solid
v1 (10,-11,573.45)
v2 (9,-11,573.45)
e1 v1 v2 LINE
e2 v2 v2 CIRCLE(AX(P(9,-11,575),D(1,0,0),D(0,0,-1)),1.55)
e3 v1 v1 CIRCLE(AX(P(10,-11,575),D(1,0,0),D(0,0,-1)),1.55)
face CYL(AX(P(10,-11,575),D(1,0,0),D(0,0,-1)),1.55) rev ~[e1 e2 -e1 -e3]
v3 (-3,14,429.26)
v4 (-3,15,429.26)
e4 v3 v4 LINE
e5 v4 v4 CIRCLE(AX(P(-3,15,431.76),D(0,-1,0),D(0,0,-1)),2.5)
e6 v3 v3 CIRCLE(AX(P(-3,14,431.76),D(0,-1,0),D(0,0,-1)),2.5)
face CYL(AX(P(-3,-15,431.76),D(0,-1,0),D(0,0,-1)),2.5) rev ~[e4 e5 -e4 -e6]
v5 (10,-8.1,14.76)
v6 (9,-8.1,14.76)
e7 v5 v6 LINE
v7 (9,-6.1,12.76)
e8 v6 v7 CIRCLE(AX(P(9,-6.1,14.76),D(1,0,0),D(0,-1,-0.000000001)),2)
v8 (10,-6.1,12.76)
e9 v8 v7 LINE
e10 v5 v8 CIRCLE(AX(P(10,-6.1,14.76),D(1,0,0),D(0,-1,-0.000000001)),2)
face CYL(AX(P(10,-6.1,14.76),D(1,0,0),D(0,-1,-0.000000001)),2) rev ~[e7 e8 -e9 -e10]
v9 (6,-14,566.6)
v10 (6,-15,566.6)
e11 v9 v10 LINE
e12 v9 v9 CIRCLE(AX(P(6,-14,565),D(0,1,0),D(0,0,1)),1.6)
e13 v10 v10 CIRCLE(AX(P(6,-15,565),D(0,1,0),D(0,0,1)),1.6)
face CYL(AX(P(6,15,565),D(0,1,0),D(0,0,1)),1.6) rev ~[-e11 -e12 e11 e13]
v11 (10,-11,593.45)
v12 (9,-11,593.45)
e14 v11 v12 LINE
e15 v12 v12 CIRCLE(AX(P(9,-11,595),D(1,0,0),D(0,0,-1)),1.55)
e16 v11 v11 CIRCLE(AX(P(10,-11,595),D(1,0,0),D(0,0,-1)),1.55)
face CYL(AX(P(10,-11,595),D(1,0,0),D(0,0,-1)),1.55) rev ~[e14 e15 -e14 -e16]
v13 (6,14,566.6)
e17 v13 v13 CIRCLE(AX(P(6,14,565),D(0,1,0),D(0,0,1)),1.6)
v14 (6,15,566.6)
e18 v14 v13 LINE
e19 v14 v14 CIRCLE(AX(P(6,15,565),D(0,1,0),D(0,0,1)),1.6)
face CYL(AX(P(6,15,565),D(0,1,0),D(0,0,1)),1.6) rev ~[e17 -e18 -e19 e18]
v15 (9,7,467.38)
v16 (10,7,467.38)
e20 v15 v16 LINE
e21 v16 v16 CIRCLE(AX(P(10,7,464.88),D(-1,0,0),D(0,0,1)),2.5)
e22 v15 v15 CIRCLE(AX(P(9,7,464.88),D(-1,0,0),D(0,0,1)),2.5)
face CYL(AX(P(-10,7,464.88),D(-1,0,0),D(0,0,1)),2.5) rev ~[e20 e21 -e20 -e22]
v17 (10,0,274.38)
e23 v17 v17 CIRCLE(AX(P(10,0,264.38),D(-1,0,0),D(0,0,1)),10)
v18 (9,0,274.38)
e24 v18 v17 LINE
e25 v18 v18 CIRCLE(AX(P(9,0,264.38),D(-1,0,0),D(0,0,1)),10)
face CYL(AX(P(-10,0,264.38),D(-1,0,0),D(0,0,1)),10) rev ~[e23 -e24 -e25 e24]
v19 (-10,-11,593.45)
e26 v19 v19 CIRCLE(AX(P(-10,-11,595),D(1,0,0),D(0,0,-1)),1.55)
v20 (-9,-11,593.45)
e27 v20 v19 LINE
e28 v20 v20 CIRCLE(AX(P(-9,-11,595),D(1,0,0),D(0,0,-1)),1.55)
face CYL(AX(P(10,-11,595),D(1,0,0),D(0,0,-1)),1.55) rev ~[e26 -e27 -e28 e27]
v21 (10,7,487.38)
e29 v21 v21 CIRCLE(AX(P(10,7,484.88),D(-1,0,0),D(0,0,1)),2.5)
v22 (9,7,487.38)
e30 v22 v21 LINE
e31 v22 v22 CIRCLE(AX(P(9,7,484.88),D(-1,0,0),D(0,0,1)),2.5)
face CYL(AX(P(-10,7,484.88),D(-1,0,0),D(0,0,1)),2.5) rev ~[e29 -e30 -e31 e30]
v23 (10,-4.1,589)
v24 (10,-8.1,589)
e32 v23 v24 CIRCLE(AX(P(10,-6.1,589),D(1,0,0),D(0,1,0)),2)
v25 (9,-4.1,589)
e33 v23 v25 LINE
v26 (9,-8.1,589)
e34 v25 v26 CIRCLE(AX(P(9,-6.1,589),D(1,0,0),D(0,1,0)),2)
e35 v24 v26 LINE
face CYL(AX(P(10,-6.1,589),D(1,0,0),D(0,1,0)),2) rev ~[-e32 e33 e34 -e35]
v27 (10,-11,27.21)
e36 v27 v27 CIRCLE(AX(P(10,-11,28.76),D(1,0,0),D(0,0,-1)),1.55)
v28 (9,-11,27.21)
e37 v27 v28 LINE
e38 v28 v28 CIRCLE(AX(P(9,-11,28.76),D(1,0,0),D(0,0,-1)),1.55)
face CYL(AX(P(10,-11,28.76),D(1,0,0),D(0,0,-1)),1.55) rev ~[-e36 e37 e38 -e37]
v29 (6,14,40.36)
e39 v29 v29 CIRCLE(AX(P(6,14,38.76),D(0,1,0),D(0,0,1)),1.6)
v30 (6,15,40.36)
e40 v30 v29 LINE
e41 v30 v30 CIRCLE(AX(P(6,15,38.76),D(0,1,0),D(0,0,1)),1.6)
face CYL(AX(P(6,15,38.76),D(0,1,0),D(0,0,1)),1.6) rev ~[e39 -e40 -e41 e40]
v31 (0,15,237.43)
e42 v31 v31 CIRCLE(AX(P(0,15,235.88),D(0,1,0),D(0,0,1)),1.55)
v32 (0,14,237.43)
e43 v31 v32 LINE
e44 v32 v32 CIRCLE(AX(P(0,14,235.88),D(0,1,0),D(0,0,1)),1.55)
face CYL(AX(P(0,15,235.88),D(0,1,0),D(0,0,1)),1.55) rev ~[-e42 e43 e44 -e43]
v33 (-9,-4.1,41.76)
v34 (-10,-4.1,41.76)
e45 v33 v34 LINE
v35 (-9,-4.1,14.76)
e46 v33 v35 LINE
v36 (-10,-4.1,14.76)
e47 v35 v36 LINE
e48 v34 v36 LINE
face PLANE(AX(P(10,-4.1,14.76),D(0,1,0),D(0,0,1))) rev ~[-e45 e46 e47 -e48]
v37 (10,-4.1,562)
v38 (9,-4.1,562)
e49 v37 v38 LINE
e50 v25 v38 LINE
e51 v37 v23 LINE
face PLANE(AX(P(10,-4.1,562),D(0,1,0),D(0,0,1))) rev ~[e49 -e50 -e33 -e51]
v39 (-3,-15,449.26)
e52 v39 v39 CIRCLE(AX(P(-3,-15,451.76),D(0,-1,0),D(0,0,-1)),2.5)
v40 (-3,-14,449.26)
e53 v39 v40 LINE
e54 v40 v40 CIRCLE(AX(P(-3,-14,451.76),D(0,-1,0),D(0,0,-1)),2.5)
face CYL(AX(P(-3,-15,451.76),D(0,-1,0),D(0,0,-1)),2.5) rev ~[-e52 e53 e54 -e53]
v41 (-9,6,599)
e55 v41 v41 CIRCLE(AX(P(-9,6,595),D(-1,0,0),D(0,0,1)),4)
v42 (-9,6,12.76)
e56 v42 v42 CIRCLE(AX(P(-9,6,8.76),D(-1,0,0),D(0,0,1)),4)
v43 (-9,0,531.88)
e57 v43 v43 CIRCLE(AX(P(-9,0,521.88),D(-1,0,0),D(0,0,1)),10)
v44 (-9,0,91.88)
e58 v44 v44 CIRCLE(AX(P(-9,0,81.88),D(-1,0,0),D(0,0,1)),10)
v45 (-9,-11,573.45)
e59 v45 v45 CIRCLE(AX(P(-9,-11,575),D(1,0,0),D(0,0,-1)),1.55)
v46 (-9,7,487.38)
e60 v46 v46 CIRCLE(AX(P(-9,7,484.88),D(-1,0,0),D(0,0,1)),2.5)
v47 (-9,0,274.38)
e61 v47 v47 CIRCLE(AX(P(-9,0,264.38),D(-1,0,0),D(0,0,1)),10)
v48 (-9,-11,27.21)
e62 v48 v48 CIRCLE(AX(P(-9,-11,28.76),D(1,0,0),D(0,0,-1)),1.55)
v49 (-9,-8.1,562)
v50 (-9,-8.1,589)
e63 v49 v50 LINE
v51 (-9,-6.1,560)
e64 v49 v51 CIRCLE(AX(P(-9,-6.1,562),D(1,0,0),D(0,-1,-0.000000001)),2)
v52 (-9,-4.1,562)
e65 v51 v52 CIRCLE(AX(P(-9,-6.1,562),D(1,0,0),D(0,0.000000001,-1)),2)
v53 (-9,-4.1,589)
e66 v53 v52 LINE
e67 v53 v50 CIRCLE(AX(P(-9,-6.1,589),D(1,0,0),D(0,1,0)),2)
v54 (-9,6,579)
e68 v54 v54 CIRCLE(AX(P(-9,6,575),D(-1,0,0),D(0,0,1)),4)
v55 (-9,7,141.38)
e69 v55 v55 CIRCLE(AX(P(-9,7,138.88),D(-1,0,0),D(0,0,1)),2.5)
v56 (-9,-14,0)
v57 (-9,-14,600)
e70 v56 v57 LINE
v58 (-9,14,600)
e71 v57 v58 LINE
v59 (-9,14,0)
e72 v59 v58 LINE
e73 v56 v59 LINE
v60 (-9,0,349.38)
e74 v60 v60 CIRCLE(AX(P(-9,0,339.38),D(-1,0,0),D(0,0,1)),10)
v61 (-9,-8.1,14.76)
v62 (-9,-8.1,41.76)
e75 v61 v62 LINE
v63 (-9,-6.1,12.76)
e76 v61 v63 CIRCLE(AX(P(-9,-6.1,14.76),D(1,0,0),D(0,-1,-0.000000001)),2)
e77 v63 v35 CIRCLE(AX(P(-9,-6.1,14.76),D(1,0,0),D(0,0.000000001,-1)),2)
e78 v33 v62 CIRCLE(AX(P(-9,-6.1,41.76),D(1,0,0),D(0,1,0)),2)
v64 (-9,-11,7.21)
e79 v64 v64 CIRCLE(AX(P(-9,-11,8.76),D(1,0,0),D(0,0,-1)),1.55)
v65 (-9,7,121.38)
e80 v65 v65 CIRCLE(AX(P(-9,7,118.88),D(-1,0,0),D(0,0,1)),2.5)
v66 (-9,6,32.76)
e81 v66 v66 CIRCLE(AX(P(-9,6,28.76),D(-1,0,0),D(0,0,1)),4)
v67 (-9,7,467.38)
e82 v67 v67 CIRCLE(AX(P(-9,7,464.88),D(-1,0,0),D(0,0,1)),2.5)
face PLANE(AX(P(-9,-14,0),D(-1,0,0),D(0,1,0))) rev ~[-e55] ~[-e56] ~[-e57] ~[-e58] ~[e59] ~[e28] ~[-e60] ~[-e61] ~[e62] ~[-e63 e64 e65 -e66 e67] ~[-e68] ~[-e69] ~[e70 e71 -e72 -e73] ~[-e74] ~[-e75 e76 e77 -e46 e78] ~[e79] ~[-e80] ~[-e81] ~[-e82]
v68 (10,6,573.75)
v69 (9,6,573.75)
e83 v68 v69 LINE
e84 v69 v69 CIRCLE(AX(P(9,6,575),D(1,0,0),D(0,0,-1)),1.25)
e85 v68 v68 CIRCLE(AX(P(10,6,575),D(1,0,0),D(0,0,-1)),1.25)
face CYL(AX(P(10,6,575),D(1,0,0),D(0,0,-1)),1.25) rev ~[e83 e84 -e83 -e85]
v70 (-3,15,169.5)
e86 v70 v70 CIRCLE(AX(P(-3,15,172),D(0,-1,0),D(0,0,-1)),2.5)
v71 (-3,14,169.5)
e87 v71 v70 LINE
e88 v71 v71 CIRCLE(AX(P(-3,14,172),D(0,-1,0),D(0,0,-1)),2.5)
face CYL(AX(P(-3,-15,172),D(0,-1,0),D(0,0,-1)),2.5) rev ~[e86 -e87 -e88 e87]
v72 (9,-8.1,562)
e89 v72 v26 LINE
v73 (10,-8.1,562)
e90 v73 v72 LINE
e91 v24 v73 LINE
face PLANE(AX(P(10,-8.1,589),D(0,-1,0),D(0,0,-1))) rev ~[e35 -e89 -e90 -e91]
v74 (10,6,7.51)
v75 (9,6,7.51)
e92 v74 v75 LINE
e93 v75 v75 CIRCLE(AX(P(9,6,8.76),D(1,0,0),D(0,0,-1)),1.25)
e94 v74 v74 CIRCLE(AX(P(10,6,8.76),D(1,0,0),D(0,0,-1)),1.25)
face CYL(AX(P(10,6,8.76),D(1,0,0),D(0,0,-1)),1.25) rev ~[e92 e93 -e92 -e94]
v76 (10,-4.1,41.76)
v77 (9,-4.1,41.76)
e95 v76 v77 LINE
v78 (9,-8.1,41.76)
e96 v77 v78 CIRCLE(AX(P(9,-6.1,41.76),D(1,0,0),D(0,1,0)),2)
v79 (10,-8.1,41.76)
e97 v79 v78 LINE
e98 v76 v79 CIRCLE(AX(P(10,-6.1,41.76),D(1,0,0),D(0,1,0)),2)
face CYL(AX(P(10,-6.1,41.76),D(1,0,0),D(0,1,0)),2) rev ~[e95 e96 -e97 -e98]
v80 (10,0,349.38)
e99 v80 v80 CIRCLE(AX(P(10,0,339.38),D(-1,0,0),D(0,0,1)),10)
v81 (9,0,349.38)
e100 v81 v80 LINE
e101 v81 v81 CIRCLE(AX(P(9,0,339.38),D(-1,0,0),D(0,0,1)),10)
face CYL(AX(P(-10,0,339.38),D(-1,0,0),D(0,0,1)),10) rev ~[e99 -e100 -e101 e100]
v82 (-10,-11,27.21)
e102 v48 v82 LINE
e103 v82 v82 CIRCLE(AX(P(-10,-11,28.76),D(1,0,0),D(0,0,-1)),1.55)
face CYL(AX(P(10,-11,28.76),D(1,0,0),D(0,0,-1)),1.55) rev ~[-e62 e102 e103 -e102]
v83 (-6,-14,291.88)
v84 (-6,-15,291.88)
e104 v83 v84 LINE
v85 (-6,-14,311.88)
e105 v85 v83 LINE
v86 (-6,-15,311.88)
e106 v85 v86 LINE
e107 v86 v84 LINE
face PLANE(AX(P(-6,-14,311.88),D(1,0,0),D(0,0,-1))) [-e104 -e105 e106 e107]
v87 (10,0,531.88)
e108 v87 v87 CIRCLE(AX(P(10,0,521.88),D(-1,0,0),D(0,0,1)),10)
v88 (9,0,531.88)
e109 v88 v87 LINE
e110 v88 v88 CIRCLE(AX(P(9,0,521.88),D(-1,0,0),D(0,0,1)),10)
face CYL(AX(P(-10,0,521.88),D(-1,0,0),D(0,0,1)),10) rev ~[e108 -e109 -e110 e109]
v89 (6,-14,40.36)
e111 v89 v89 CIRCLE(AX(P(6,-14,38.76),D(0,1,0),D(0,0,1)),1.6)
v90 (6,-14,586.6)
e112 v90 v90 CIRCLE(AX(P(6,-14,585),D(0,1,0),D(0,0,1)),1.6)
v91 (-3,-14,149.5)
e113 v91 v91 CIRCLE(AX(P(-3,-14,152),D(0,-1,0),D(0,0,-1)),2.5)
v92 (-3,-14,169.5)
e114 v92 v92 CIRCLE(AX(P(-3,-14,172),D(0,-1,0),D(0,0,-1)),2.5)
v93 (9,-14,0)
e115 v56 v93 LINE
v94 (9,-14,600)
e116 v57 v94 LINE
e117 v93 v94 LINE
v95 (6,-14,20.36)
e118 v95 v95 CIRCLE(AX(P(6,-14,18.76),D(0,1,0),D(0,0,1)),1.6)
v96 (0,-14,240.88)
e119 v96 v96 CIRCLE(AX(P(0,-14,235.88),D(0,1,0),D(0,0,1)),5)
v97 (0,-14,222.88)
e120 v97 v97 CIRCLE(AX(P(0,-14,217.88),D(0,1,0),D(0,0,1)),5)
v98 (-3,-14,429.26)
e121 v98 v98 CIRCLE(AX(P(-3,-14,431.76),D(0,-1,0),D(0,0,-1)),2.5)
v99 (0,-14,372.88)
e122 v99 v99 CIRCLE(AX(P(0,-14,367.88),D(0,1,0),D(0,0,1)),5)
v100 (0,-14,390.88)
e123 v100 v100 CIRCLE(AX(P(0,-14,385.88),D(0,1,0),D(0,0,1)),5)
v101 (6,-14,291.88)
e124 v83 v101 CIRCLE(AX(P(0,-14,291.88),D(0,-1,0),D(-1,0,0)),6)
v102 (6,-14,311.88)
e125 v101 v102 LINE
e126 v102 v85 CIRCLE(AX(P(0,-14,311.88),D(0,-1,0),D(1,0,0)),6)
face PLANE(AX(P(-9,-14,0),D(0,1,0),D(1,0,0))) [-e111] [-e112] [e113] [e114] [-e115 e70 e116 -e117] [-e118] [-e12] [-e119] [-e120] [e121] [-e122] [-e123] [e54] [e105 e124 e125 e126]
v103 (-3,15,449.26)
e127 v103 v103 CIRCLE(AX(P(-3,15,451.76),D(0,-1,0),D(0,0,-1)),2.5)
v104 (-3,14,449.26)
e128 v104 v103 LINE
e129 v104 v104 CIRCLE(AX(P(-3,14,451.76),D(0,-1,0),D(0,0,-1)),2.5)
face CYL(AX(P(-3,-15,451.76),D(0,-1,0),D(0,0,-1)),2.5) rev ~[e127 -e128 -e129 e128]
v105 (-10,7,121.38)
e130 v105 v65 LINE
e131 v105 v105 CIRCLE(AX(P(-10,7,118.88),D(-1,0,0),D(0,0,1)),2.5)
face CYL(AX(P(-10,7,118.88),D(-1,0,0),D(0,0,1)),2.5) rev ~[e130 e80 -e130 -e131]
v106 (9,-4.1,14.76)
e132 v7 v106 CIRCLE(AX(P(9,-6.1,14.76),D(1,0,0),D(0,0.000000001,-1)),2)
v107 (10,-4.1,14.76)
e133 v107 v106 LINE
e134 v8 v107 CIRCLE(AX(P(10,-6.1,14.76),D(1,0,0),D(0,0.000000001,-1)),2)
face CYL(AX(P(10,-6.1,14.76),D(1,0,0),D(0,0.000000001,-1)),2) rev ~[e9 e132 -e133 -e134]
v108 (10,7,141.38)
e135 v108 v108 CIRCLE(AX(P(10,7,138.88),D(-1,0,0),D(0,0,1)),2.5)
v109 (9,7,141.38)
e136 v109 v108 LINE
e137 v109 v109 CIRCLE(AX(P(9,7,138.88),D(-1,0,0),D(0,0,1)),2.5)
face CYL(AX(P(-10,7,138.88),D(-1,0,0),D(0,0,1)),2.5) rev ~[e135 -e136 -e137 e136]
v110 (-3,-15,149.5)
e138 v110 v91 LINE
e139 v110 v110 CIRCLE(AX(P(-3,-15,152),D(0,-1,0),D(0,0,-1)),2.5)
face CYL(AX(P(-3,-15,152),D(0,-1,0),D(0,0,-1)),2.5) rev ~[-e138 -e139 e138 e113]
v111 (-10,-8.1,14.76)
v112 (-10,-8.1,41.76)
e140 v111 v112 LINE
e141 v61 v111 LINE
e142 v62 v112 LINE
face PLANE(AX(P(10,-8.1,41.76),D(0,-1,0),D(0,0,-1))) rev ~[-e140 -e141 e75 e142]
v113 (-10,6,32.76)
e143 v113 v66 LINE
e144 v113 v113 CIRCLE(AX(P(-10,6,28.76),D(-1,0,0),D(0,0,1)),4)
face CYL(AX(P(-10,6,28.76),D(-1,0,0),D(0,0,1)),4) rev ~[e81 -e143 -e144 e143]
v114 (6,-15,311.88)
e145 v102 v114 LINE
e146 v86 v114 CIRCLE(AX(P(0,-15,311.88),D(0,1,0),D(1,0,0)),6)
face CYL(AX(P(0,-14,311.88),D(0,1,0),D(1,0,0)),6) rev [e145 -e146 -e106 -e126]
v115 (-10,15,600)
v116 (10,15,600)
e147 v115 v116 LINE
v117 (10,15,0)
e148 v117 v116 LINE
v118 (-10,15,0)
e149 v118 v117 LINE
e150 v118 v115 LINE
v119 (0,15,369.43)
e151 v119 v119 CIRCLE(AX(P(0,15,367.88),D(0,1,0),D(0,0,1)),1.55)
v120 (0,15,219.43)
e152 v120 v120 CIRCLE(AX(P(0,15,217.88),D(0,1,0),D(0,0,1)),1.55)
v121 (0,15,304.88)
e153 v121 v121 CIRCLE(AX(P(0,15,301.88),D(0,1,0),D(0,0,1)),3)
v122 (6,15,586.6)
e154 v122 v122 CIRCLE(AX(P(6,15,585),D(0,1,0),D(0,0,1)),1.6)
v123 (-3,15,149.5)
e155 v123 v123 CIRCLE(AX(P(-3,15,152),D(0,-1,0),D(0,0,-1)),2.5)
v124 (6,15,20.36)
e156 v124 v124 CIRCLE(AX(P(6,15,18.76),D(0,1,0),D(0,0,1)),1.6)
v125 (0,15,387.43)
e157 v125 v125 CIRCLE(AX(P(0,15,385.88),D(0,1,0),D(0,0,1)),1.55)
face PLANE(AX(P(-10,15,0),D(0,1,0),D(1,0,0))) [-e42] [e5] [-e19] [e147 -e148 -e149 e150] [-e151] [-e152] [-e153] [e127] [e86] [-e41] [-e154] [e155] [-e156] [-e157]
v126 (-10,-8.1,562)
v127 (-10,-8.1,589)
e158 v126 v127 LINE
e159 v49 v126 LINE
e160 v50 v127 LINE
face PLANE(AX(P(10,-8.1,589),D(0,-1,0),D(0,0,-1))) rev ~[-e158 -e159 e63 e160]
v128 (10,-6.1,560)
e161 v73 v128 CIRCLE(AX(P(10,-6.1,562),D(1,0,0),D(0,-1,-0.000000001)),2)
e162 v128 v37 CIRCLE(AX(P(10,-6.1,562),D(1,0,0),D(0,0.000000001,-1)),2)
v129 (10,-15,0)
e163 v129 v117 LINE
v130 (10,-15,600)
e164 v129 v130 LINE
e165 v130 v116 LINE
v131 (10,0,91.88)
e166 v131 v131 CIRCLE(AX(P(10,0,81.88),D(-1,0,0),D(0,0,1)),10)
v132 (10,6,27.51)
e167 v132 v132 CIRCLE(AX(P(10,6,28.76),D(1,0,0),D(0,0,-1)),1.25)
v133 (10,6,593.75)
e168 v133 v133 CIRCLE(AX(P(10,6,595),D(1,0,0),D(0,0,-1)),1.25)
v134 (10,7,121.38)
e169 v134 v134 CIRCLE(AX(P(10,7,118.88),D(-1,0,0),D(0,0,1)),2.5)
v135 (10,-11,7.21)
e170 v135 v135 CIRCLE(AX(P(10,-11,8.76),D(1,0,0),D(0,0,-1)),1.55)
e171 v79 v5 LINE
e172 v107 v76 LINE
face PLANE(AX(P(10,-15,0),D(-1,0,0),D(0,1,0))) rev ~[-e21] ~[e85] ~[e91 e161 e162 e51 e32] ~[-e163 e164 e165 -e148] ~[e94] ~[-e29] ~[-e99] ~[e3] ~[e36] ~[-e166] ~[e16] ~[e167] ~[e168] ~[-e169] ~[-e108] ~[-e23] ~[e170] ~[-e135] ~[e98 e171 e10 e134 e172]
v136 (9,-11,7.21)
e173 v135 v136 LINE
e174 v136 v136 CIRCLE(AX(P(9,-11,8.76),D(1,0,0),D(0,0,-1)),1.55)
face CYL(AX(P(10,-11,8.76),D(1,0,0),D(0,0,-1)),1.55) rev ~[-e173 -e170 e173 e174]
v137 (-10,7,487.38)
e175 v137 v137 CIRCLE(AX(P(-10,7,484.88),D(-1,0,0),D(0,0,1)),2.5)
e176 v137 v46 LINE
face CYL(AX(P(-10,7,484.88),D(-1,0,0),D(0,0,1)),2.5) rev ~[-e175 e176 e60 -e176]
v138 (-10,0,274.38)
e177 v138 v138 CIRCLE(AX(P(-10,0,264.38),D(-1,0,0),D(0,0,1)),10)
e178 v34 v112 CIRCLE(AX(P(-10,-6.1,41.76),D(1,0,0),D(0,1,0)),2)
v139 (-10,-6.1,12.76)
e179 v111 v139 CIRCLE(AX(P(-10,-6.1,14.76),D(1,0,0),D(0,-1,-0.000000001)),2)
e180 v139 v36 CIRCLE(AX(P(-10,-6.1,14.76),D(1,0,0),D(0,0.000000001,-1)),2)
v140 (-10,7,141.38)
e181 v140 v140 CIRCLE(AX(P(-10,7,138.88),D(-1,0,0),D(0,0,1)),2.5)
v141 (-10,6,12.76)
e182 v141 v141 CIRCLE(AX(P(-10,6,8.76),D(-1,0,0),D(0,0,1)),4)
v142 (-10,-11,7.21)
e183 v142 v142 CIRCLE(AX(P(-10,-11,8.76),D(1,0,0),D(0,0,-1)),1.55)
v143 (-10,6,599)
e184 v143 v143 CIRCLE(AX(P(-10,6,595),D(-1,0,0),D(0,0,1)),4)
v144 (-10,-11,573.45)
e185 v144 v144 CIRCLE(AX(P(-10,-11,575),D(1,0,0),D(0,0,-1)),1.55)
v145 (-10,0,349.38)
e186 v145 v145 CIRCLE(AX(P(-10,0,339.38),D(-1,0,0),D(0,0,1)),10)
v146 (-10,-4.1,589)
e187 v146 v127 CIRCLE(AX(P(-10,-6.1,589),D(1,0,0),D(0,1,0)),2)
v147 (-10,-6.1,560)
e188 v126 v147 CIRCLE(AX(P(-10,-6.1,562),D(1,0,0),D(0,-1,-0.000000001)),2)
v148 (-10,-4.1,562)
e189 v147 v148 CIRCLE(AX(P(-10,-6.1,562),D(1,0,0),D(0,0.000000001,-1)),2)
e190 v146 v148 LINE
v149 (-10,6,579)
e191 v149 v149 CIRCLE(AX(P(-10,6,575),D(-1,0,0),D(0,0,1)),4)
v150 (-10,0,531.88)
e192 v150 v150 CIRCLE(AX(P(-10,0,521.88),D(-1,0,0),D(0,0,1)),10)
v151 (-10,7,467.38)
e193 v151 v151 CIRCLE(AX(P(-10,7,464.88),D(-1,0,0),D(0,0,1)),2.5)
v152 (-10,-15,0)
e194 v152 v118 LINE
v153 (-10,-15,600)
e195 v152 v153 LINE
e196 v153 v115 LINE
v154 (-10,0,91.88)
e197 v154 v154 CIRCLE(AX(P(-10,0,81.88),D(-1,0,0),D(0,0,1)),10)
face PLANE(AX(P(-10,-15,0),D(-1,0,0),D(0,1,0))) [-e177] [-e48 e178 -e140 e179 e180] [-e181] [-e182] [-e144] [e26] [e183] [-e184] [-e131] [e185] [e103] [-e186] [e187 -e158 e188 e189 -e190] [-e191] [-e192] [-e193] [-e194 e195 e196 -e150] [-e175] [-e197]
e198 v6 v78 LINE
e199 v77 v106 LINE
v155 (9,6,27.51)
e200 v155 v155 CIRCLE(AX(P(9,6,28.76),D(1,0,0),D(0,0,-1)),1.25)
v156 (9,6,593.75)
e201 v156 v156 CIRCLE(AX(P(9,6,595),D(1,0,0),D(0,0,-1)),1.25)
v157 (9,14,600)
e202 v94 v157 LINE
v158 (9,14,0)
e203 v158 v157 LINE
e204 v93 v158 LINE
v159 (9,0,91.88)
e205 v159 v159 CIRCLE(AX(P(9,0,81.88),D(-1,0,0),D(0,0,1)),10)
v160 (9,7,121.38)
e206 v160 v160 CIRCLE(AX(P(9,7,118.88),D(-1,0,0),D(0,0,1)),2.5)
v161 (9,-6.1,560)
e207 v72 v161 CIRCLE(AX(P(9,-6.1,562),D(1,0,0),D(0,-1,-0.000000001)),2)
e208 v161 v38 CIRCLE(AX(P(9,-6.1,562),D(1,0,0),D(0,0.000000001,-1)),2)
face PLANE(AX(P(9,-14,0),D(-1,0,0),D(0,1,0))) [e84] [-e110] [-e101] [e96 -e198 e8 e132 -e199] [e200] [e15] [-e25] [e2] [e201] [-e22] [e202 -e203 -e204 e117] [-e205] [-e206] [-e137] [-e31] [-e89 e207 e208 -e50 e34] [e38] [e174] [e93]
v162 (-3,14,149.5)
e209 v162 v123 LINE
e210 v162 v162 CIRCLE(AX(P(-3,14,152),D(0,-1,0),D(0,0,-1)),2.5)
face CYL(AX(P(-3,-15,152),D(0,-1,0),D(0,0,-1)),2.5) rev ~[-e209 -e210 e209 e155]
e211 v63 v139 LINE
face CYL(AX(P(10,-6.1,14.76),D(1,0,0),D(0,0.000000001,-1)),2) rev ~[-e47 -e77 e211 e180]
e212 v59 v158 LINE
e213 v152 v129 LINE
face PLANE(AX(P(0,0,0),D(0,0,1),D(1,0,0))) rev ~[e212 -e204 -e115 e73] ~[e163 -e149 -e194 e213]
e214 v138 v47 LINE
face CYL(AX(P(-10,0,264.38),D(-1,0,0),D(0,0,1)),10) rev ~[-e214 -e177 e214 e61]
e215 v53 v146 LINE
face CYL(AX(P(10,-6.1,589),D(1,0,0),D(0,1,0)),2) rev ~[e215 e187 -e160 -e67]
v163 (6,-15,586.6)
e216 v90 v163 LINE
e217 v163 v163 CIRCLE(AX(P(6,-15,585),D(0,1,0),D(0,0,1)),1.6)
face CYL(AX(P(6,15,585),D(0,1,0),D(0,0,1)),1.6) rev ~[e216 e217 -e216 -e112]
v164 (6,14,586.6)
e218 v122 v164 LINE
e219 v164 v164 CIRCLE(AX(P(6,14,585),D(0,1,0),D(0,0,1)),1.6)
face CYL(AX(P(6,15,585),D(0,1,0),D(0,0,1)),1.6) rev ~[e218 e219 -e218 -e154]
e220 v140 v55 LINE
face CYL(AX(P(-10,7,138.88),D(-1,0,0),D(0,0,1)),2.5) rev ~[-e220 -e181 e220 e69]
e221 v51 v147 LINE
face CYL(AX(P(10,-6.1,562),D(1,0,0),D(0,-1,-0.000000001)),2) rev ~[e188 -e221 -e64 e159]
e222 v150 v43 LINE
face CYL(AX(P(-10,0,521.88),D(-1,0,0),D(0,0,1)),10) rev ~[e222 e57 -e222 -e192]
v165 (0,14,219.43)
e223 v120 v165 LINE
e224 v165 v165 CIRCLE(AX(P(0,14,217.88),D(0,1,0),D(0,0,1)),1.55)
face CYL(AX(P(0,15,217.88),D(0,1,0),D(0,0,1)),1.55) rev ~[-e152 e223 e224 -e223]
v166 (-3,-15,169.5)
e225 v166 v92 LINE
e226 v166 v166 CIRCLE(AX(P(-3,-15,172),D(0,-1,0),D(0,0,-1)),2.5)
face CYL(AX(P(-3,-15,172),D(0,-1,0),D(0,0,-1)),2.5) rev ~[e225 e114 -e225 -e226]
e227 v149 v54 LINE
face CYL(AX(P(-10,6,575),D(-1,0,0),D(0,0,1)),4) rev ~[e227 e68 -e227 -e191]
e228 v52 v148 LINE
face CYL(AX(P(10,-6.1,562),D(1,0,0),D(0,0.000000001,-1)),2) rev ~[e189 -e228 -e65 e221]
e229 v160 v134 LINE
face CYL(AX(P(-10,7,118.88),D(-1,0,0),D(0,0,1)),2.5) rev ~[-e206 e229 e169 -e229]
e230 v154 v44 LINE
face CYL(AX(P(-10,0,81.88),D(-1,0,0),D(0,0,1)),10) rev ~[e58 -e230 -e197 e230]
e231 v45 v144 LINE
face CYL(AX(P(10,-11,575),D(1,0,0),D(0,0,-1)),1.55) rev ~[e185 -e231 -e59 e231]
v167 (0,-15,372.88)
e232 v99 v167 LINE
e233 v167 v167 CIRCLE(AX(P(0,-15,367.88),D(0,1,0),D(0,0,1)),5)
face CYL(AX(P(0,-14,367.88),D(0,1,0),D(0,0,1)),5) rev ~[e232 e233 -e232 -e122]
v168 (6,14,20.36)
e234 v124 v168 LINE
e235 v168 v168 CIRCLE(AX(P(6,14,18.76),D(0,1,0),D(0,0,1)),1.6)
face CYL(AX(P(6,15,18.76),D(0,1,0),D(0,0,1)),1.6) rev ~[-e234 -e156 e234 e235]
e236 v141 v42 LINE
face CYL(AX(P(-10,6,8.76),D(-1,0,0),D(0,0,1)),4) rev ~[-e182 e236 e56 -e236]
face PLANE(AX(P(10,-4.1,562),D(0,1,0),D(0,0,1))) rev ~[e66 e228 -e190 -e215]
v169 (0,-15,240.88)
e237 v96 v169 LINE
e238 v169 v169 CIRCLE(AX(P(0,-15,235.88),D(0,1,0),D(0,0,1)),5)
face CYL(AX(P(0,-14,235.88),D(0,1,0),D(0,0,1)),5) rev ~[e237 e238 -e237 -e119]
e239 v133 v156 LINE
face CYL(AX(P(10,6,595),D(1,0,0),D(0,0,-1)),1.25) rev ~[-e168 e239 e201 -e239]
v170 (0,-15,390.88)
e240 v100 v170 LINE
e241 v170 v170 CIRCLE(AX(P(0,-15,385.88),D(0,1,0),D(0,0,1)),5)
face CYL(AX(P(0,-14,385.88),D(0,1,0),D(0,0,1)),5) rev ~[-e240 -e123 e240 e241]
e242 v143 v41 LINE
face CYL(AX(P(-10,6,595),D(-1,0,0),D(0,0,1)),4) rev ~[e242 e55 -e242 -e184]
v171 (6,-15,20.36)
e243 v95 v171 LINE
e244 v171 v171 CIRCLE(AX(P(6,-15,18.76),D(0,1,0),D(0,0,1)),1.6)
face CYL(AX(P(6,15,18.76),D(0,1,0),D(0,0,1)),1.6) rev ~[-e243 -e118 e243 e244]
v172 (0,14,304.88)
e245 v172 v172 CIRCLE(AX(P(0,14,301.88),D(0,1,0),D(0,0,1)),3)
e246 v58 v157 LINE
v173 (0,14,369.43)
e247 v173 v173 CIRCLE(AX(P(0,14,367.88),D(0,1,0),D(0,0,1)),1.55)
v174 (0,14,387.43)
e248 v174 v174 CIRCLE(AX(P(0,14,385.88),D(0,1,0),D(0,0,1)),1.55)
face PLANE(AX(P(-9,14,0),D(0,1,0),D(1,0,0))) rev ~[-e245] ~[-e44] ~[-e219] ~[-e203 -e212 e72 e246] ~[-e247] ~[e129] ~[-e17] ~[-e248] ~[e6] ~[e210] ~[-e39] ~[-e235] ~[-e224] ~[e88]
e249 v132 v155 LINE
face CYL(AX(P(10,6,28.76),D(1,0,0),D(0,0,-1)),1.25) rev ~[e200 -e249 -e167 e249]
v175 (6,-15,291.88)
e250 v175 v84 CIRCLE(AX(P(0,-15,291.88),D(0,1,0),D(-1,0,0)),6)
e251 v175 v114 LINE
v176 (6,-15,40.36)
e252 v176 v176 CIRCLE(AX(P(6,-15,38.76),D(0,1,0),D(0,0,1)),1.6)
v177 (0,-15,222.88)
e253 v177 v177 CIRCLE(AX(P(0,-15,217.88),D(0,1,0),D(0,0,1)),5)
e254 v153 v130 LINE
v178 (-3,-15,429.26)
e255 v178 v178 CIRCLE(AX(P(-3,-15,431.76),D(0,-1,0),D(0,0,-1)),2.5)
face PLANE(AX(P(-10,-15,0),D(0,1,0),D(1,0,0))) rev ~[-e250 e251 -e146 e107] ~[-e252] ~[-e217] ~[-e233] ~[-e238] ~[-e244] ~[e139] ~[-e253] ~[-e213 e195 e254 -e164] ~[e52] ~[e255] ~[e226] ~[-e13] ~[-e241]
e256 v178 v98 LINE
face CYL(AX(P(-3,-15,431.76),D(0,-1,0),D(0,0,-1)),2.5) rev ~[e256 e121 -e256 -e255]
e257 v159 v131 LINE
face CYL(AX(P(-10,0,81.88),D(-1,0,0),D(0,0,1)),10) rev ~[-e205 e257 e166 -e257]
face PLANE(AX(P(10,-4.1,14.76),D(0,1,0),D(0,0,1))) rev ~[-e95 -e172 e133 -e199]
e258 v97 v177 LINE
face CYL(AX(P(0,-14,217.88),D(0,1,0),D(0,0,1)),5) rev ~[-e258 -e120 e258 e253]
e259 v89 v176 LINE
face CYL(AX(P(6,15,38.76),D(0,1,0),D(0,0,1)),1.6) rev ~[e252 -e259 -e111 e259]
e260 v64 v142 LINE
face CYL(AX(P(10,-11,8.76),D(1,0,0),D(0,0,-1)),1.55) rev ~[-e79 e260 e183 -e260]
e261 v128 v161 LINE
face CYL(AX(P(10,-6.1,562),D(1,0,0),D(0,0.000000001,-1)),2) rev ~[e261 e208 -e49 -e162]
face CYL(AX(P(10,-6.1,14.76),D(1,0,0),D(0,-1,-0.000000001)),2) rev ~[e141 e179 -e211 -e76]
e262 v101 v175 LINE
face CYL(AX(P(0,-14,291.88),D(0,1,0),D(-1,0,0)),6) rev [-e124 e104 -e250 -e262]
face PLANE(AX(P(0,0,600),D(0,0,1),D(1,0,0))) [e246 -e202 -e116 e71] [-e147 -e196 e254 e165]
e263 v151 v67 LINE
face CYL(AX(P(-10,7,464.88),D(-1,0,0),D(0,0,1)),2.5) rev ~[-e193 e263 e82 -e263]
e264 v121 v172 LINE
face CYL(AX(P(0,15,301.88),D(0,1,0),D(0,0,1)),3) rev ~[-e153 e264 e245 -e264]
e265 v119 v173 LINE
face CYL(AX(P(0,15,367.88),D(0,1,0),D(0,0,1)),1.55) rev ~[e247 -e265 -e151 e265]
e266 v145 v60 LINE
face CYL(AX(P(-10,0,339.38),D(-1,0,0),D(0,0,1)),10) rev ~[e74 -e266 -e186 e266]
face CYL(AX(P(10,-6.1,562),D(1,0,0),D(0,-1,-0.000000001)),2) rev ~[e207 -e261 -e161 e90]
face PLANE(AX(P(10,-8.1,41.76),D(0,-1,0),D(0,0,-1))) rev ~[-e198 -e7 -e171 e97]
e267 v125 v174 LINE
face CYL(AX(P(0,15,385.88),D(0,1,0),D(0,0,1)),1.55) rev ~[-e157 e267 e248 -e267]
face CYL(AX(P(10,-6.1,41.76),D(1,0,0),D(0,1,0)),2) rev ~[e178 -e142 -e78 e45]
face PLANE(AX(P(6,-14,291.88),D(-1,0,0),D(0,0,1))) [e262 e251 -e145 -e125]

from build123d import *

# Parameters (mm, degrees)
SKETCH_1_W           = 20
SKETCH_1_H           = 30
SKETCH_1_W_2         = 18
SKETCH_1_H_2         = 28
EXTRUDE_1_DEPTH      = 600
SKETCH_2_R           = 1.55
SKETCH_2_R_2         = 3
CUT_EXTRUDE_1_DEPTH  = 5
SKETCH_5_R           = 5
CUT_EXTRUDE_6_DEPTH  = 10
SKETCH_7_R           = 1.25
CUT_EXTRUDE_7_DEPTH  = 25
SKETCH_8_R           = 4
CUT_EXTRUDE_8_DEPTH  = 3
SKETCH_10_R          = 1.6
CUT_EXTRUDE_9_DEPTH  = 40
SKETCH_11_R          = 2.5
CUT_EXTRUDE_10_DEPTH = 40
SKETCH_13_R          = 2.5
CUT_EXTRUDE_11_DEPTH = 40
CUT_EXTRUDE_12_DEPTH = 10
SKETCH_16_R          = 2.5
CUT_EXTRUDE_13_DEPTH = 50
SKETCH_17_R          = 2.5
CUT_EXTRUDE_14_DEPTH = 50
SKETCH_18_R          = 1.55
CUT_EXTRUDE_15_DEPTH = 40
SKETCH_19_R          = 1.55
CUT_EXTRUDE_16_DEPTH = 40
SKETCH_20_R          = 10
CUT_EXTRUDE_17_DEPTH = 40


with BuildPart() as part:
    # 草图1 → 凸台-拉伸1 (new body)
    with BuildSketch(Plane.XY):
        Rectangle(SKETCH_1_W, SKETCH_1_H)
        Rectangle(SKETCH_1_W_2, SKETCH_1_H_2, mode=Mode.SUBTRACT)
    extrude(amount=EXTRUDE_1_DEPTH)

    # 草图2 → 切除-拉伸1 (cut)
    with BuildSketch(Plane(origin=(0, 15, 0), x_dir=(1, 0, 0), z_dir=(0, 1, 0))):
        with Locations(Location((0, -217.88, 0), (0, 0, 270))):
            Circle(SKETCH_2_R)
        with Locations(Location((0, -235.88, 0), (0, 0, 270))):
            Circle(SKETCH_2_R)
        with Locations(Location((0, -367.88, 0), (0, 0, 270))):
            Circle(SKETCH_2_R)
        with Locations(Location((0, -385.88, 0), (0, 0, 270))):
            Circle(SKETCH_2_R)
        with Locations(Location((0, -301.88, 0), (0, 0, 270))):
            Circle(SKETCH_2_R_2)
    extrude(amount=-CUT_EXTRUDE_1_DEPTH, mode=Mode.SUBTRACT)

    # 草图5 → 切除-拉伸6 (cut)
    with BuildSketch(Plane(origin=(0, -14, 0), x_dir=(1, 0, 0), z_dir=(0, 1, 0))):
        with Locations(Location((0, -385.88, 0), (0, 0, 270))):
            Circle(SKETCH_5_R)
        with Locations(Location((0, -367.88, 0), (0, 0, 270))):
            Circle(SKETCH_5_R)
        with Locations(Location((0, -235.88, 0), (0, 0, 270))):
            Circle(SKETCH_5_R)
        with Locations(Location((0, -217.88, 0), (0, 0, 270))):
            Circle(SKETCH_5_R)
    extrude(amount=-CUT_EXTRUDE_6_DEPTH, mode=Mode.SUBTRACT)

    # 草图7 → 切除-拉伸7 (cut)
    with BuildSketch(Plane(origin=(10, 0, 0), x_dir=(0, 0, -1), z_dir=(1, 0, 0))):
        with BuildLine():
            ThreePointArc((-587, -6.1), (-587.585786438, -4.685786438), (-589, -4.1))
            Line((-589, -4.1), (-589, -8.1))
            ThreePointArc((-589, -8.1), (-587.585786438, -7.514213562), (-587, -6.1))
        make_face()
        with BuildLine():
            Line((-589, -8.1), (-589, -4.1))
            ThreePointArc((-589, -4.1), (-591, -6.1), (-589, -8.1))
        make_face()
        with BuildLine():
            Line((-562, -4.1), (-589, -4.1))
            ThreePointArc((-589, -4.1), (-587.585786438, -4.685786438), (-587, -6.1))
            ThreePointArc((-587, -6.1), (-587.585786438, -7.514213562), (-589, -8.1))
            Line((-589, -8.1), (-562, -8.1))
            ThreePointArc((-562, -8.1), (-564, -6.1), (-562, -4.1))
        make_face()
        with Locations((-595, 6)):
            Circle(SKETCH_7_R)
        with BuildLine():
            ThreePointArc((-560, -6.1), (-560.585786438, -4.685786438), (-562, -4.1))
            Line((-562, -4.1), (-562, -8.1))
            ThreePointArc((-562, -8.1), (-560.585786438, -7.514213562), (-560, -6.1))
        make_face()
        with BuildLine():
            Line((-562, -8.1), (-562, -4.1))
            ThreePointArc((-562, -4.1), (-564, -6.1), (-562, -8.1))
        make_face()
        with BuildLine():
            ThreePointArc((-39.76, -6.1), (-40.345786438, -4.685786438), (-41.76, -4.1))
            Line((-41.76, -4.1), (-41.76, -8.1))
            ThreePointArc((-41.76, -8.1), (-40.345786438, -7.514213562), (-39.76, -6.1))
        make_face()
        with BuildLine():
            Line((-41.76, -8.1), (-41.76, -4.1))
            ThreePointArc((-41.76, -4.1), (-43.76, -6.1), (-41.76, -8.1))
        make_face()
        with BuildLine():
            ThreePointArc((-14.76, -8.1), (-16.76, -6.1), (-14.76, -4.1))
            Line((-14.76, -4.1), (-41.76, -4.1))
            ThreePointArc((-41.76, -4.1), (-40.345786438, -4.685786438), (-39.76, -6.1))
            ThreePointArc((-39.76, -6.1), (-40.345786438, -7.514213562), (-41.76, -8.1))
            Line((-41.76, -8.1), (-14.76, -8.1))
        make_face()
        with BuildLine():
            ThreePointArc((-12.76, -6.1), (-13.345786438, -4.685786438), (-14.76, -4.1))
            Line((-14.76, -4.1), (-14.76, -8.1))
            ThreePointArc((-14.76, -8.1), (-13.345786438, -7.514213562), (-12.76, -6.1))
        make_face()
        with BuildLine():
            Line((-14.76, -8.1), (-14.76, -4.1))
            ThreePointArc((-14.76, -4.1), (-16.76, -6.1), (-14.76, -8.1))
        make_face()
        with Locations((-575, 6)):
            Circle(SKETCH_7_R)
        with Locations((-8.76, 6)):
            Circle(SKETCH_7_R)
        with Locations((-28.76, 6)):
            Circle(SKETCH_7_R)
    extrude(amount=-CUT_EXTRUDE_7_DEPTH, mode=Mode.SUBTRACT)

    # 草图8 → 切除-拉伸8 (cut)
    with BuildSketch(Plane.ZY.offset(10)):
        with Locations((8.76, 6)):
            Circle(SKETCH_8_R)
        with Locations((28.76, 6)):
            Circle(SKETCH_8_R)
        with Locations((575, 6)):
            Circle(SKETCH_8_R)
        with Locations((595, 6)):
            Circle(SKETCH_8_R)
    extrude(amount=-CUT_EXTRUDE_8_DEPTH, mode=Mode.SUBTRACT)

    # 草图10 → 切除-拉伸9 (cut)
    with BuildSketch(Plane(origin=(0, 15, 0), x_dir=(1, 0, 0), z_dir=(0, 1, 0))):
        with Locations(Location((6, -585, 0), (0, 0, 270))):
            Circle(SKETCH_10_R)
        with Locations(Location((6, -565, 0), (0, 0, 270))):
            Circle(SKETCH_10_R)
        with Locations(Location((6, -38.76, 0), (0, 0, 270))):
            Circle(SKETCH_10_R)
        with Locations(Location((6, -18.76, 0), (0, 0, 270))):
            Circle(SKETCH_10_R)
    extrude(amount=-CUT_EXTRUDE_9_DEPTH, mode=Mode.SUBTRACT)

    # 草图11 → 切除-拉伸10 (cut)
    with BuildSketch(Plane.XZ.offset(15)):
        with Locations(Location((-3, 152, 0), (0, 0, 270))):
            Circle(SKETCH_11_R)
        with Locations(Location((-3, 172, 0), (0, 0, 270))):
            Circle(SKETCH_11_R)
    extrude(amount=-CUT_EXTRUDE_10_DEPTH, mode=Mode.SUBTRACT)

    # 草图13 → 切除-拉伸11 (cut)
    with BuildSketch(Plane.XZ.offset(15)):
        with Locations(Location((-3, 431.76, 0), (0, 0, 270))):
            Circle(SKETCH_13_R)
        with Locations(Location((-3, 451.76, 0), (0, 0, 270))):
            Circle(SKETCH_13_R)
    extrude(amount=-CUT_EXTRUDE_11_DEPTH, mode=Mode.SUBTRACT)

    # 草图14 → 切除-拉伸12 (cut)
    with BuildSketch(Plane(origin=(0, -14, 0), x_dir=(1, 0, 0), z_dir=(0, 1, 0))):
        with BuildLine():
            Line((6, -291.88), (6, -311.88))
            ThreePointArc((6, -311.88), (0, -317.88), (-6, -311.88))
            Line((-6, -311.88), (-6, -291.88))
            ThreePointArc((-6, -291.88), (0, -285.88), (6, -291.88))
        make_face()
    extrude(amount=-CUT_EXTRUDE_12_DEPTH, mode=Mode.SUBTRACT)

    # 草图16 → 切除-拉伸13 (cut)
    with BuildSketch(Plane.ZY.offset(10)):
        with Locations((464.88, 7)):
            Circle(SKETCH_16_R)
        with Locations((484.88, 7)):
            Circle(SKETCH_16_R)
    extrude(amount=-CUT_EXTRUDE_13_DEPTH, mode=Mode.SUBTRACT)

    # 草图17 → 切除-拉伸14 (cut)
    with BuildSketch(Plane.ZY.offset(10)):
        with Locations((118.88, 7)):
            Circle(SKETCH_17_R)
        with Locations((138.88, 7)):
            Circle(SKETCH_17_R)
    extrude(amount=-CUT_EXTRUDE_14_DEPTH, mode=Mode.SUBTRACT)

    # 草图18 → 切除-拉伸15 (cut)
    with BuildSketch(Plane(origin=(10, 0, 0), x_dir=(0, 0, -1), z_dir=(1, 0, 0))):
        with Locations((-28.76, -11)):
            Circle(SKETCH_18_R)
        with Locations((-8.76, -11)):
            Circle(SKETCH_18_R)
    extrude(amount=-CUT_EXTRUDE_15_DEPTH, mode=Mode.SUBTRACT)

    # 草图19 → 切除-拉伸16 (cut)
    with BuildSketch(Plane(origin=(10, 0, 0), x_dir=(0, 0, -1), z_dir=(1, 0, 0))):
        with Locations((-575, -11)):
            Circle(SKETCH_19_R)
        with Locations((-595, -11)):
            Circle(SKETCH_19_R)
    extrude(amount=-CUT_EXTRUDE_16_DEPTH, mode=Mode.SUBTRACT)

    # 草图20 → 切除-拉伸17 (cut)
    with BuildSketch(Plane.ZY.offset(10)):
        with Locations((81.88, 0)):
            Circle(SKETCH_20_R)
        with Locations((264.38, 0)):
            Circle(SKETCH_20_R)
        with Locations((339.38, 0)):
            Circle(SKETCH_20_R)
        with Locations((521.88, 0)):
            Circle(SKETCH_20_R)
    extrude(amount=-CUT_EXTRUDE_17_DEPTH, mode=Mode.SUBTRACT)


solid = part.part
